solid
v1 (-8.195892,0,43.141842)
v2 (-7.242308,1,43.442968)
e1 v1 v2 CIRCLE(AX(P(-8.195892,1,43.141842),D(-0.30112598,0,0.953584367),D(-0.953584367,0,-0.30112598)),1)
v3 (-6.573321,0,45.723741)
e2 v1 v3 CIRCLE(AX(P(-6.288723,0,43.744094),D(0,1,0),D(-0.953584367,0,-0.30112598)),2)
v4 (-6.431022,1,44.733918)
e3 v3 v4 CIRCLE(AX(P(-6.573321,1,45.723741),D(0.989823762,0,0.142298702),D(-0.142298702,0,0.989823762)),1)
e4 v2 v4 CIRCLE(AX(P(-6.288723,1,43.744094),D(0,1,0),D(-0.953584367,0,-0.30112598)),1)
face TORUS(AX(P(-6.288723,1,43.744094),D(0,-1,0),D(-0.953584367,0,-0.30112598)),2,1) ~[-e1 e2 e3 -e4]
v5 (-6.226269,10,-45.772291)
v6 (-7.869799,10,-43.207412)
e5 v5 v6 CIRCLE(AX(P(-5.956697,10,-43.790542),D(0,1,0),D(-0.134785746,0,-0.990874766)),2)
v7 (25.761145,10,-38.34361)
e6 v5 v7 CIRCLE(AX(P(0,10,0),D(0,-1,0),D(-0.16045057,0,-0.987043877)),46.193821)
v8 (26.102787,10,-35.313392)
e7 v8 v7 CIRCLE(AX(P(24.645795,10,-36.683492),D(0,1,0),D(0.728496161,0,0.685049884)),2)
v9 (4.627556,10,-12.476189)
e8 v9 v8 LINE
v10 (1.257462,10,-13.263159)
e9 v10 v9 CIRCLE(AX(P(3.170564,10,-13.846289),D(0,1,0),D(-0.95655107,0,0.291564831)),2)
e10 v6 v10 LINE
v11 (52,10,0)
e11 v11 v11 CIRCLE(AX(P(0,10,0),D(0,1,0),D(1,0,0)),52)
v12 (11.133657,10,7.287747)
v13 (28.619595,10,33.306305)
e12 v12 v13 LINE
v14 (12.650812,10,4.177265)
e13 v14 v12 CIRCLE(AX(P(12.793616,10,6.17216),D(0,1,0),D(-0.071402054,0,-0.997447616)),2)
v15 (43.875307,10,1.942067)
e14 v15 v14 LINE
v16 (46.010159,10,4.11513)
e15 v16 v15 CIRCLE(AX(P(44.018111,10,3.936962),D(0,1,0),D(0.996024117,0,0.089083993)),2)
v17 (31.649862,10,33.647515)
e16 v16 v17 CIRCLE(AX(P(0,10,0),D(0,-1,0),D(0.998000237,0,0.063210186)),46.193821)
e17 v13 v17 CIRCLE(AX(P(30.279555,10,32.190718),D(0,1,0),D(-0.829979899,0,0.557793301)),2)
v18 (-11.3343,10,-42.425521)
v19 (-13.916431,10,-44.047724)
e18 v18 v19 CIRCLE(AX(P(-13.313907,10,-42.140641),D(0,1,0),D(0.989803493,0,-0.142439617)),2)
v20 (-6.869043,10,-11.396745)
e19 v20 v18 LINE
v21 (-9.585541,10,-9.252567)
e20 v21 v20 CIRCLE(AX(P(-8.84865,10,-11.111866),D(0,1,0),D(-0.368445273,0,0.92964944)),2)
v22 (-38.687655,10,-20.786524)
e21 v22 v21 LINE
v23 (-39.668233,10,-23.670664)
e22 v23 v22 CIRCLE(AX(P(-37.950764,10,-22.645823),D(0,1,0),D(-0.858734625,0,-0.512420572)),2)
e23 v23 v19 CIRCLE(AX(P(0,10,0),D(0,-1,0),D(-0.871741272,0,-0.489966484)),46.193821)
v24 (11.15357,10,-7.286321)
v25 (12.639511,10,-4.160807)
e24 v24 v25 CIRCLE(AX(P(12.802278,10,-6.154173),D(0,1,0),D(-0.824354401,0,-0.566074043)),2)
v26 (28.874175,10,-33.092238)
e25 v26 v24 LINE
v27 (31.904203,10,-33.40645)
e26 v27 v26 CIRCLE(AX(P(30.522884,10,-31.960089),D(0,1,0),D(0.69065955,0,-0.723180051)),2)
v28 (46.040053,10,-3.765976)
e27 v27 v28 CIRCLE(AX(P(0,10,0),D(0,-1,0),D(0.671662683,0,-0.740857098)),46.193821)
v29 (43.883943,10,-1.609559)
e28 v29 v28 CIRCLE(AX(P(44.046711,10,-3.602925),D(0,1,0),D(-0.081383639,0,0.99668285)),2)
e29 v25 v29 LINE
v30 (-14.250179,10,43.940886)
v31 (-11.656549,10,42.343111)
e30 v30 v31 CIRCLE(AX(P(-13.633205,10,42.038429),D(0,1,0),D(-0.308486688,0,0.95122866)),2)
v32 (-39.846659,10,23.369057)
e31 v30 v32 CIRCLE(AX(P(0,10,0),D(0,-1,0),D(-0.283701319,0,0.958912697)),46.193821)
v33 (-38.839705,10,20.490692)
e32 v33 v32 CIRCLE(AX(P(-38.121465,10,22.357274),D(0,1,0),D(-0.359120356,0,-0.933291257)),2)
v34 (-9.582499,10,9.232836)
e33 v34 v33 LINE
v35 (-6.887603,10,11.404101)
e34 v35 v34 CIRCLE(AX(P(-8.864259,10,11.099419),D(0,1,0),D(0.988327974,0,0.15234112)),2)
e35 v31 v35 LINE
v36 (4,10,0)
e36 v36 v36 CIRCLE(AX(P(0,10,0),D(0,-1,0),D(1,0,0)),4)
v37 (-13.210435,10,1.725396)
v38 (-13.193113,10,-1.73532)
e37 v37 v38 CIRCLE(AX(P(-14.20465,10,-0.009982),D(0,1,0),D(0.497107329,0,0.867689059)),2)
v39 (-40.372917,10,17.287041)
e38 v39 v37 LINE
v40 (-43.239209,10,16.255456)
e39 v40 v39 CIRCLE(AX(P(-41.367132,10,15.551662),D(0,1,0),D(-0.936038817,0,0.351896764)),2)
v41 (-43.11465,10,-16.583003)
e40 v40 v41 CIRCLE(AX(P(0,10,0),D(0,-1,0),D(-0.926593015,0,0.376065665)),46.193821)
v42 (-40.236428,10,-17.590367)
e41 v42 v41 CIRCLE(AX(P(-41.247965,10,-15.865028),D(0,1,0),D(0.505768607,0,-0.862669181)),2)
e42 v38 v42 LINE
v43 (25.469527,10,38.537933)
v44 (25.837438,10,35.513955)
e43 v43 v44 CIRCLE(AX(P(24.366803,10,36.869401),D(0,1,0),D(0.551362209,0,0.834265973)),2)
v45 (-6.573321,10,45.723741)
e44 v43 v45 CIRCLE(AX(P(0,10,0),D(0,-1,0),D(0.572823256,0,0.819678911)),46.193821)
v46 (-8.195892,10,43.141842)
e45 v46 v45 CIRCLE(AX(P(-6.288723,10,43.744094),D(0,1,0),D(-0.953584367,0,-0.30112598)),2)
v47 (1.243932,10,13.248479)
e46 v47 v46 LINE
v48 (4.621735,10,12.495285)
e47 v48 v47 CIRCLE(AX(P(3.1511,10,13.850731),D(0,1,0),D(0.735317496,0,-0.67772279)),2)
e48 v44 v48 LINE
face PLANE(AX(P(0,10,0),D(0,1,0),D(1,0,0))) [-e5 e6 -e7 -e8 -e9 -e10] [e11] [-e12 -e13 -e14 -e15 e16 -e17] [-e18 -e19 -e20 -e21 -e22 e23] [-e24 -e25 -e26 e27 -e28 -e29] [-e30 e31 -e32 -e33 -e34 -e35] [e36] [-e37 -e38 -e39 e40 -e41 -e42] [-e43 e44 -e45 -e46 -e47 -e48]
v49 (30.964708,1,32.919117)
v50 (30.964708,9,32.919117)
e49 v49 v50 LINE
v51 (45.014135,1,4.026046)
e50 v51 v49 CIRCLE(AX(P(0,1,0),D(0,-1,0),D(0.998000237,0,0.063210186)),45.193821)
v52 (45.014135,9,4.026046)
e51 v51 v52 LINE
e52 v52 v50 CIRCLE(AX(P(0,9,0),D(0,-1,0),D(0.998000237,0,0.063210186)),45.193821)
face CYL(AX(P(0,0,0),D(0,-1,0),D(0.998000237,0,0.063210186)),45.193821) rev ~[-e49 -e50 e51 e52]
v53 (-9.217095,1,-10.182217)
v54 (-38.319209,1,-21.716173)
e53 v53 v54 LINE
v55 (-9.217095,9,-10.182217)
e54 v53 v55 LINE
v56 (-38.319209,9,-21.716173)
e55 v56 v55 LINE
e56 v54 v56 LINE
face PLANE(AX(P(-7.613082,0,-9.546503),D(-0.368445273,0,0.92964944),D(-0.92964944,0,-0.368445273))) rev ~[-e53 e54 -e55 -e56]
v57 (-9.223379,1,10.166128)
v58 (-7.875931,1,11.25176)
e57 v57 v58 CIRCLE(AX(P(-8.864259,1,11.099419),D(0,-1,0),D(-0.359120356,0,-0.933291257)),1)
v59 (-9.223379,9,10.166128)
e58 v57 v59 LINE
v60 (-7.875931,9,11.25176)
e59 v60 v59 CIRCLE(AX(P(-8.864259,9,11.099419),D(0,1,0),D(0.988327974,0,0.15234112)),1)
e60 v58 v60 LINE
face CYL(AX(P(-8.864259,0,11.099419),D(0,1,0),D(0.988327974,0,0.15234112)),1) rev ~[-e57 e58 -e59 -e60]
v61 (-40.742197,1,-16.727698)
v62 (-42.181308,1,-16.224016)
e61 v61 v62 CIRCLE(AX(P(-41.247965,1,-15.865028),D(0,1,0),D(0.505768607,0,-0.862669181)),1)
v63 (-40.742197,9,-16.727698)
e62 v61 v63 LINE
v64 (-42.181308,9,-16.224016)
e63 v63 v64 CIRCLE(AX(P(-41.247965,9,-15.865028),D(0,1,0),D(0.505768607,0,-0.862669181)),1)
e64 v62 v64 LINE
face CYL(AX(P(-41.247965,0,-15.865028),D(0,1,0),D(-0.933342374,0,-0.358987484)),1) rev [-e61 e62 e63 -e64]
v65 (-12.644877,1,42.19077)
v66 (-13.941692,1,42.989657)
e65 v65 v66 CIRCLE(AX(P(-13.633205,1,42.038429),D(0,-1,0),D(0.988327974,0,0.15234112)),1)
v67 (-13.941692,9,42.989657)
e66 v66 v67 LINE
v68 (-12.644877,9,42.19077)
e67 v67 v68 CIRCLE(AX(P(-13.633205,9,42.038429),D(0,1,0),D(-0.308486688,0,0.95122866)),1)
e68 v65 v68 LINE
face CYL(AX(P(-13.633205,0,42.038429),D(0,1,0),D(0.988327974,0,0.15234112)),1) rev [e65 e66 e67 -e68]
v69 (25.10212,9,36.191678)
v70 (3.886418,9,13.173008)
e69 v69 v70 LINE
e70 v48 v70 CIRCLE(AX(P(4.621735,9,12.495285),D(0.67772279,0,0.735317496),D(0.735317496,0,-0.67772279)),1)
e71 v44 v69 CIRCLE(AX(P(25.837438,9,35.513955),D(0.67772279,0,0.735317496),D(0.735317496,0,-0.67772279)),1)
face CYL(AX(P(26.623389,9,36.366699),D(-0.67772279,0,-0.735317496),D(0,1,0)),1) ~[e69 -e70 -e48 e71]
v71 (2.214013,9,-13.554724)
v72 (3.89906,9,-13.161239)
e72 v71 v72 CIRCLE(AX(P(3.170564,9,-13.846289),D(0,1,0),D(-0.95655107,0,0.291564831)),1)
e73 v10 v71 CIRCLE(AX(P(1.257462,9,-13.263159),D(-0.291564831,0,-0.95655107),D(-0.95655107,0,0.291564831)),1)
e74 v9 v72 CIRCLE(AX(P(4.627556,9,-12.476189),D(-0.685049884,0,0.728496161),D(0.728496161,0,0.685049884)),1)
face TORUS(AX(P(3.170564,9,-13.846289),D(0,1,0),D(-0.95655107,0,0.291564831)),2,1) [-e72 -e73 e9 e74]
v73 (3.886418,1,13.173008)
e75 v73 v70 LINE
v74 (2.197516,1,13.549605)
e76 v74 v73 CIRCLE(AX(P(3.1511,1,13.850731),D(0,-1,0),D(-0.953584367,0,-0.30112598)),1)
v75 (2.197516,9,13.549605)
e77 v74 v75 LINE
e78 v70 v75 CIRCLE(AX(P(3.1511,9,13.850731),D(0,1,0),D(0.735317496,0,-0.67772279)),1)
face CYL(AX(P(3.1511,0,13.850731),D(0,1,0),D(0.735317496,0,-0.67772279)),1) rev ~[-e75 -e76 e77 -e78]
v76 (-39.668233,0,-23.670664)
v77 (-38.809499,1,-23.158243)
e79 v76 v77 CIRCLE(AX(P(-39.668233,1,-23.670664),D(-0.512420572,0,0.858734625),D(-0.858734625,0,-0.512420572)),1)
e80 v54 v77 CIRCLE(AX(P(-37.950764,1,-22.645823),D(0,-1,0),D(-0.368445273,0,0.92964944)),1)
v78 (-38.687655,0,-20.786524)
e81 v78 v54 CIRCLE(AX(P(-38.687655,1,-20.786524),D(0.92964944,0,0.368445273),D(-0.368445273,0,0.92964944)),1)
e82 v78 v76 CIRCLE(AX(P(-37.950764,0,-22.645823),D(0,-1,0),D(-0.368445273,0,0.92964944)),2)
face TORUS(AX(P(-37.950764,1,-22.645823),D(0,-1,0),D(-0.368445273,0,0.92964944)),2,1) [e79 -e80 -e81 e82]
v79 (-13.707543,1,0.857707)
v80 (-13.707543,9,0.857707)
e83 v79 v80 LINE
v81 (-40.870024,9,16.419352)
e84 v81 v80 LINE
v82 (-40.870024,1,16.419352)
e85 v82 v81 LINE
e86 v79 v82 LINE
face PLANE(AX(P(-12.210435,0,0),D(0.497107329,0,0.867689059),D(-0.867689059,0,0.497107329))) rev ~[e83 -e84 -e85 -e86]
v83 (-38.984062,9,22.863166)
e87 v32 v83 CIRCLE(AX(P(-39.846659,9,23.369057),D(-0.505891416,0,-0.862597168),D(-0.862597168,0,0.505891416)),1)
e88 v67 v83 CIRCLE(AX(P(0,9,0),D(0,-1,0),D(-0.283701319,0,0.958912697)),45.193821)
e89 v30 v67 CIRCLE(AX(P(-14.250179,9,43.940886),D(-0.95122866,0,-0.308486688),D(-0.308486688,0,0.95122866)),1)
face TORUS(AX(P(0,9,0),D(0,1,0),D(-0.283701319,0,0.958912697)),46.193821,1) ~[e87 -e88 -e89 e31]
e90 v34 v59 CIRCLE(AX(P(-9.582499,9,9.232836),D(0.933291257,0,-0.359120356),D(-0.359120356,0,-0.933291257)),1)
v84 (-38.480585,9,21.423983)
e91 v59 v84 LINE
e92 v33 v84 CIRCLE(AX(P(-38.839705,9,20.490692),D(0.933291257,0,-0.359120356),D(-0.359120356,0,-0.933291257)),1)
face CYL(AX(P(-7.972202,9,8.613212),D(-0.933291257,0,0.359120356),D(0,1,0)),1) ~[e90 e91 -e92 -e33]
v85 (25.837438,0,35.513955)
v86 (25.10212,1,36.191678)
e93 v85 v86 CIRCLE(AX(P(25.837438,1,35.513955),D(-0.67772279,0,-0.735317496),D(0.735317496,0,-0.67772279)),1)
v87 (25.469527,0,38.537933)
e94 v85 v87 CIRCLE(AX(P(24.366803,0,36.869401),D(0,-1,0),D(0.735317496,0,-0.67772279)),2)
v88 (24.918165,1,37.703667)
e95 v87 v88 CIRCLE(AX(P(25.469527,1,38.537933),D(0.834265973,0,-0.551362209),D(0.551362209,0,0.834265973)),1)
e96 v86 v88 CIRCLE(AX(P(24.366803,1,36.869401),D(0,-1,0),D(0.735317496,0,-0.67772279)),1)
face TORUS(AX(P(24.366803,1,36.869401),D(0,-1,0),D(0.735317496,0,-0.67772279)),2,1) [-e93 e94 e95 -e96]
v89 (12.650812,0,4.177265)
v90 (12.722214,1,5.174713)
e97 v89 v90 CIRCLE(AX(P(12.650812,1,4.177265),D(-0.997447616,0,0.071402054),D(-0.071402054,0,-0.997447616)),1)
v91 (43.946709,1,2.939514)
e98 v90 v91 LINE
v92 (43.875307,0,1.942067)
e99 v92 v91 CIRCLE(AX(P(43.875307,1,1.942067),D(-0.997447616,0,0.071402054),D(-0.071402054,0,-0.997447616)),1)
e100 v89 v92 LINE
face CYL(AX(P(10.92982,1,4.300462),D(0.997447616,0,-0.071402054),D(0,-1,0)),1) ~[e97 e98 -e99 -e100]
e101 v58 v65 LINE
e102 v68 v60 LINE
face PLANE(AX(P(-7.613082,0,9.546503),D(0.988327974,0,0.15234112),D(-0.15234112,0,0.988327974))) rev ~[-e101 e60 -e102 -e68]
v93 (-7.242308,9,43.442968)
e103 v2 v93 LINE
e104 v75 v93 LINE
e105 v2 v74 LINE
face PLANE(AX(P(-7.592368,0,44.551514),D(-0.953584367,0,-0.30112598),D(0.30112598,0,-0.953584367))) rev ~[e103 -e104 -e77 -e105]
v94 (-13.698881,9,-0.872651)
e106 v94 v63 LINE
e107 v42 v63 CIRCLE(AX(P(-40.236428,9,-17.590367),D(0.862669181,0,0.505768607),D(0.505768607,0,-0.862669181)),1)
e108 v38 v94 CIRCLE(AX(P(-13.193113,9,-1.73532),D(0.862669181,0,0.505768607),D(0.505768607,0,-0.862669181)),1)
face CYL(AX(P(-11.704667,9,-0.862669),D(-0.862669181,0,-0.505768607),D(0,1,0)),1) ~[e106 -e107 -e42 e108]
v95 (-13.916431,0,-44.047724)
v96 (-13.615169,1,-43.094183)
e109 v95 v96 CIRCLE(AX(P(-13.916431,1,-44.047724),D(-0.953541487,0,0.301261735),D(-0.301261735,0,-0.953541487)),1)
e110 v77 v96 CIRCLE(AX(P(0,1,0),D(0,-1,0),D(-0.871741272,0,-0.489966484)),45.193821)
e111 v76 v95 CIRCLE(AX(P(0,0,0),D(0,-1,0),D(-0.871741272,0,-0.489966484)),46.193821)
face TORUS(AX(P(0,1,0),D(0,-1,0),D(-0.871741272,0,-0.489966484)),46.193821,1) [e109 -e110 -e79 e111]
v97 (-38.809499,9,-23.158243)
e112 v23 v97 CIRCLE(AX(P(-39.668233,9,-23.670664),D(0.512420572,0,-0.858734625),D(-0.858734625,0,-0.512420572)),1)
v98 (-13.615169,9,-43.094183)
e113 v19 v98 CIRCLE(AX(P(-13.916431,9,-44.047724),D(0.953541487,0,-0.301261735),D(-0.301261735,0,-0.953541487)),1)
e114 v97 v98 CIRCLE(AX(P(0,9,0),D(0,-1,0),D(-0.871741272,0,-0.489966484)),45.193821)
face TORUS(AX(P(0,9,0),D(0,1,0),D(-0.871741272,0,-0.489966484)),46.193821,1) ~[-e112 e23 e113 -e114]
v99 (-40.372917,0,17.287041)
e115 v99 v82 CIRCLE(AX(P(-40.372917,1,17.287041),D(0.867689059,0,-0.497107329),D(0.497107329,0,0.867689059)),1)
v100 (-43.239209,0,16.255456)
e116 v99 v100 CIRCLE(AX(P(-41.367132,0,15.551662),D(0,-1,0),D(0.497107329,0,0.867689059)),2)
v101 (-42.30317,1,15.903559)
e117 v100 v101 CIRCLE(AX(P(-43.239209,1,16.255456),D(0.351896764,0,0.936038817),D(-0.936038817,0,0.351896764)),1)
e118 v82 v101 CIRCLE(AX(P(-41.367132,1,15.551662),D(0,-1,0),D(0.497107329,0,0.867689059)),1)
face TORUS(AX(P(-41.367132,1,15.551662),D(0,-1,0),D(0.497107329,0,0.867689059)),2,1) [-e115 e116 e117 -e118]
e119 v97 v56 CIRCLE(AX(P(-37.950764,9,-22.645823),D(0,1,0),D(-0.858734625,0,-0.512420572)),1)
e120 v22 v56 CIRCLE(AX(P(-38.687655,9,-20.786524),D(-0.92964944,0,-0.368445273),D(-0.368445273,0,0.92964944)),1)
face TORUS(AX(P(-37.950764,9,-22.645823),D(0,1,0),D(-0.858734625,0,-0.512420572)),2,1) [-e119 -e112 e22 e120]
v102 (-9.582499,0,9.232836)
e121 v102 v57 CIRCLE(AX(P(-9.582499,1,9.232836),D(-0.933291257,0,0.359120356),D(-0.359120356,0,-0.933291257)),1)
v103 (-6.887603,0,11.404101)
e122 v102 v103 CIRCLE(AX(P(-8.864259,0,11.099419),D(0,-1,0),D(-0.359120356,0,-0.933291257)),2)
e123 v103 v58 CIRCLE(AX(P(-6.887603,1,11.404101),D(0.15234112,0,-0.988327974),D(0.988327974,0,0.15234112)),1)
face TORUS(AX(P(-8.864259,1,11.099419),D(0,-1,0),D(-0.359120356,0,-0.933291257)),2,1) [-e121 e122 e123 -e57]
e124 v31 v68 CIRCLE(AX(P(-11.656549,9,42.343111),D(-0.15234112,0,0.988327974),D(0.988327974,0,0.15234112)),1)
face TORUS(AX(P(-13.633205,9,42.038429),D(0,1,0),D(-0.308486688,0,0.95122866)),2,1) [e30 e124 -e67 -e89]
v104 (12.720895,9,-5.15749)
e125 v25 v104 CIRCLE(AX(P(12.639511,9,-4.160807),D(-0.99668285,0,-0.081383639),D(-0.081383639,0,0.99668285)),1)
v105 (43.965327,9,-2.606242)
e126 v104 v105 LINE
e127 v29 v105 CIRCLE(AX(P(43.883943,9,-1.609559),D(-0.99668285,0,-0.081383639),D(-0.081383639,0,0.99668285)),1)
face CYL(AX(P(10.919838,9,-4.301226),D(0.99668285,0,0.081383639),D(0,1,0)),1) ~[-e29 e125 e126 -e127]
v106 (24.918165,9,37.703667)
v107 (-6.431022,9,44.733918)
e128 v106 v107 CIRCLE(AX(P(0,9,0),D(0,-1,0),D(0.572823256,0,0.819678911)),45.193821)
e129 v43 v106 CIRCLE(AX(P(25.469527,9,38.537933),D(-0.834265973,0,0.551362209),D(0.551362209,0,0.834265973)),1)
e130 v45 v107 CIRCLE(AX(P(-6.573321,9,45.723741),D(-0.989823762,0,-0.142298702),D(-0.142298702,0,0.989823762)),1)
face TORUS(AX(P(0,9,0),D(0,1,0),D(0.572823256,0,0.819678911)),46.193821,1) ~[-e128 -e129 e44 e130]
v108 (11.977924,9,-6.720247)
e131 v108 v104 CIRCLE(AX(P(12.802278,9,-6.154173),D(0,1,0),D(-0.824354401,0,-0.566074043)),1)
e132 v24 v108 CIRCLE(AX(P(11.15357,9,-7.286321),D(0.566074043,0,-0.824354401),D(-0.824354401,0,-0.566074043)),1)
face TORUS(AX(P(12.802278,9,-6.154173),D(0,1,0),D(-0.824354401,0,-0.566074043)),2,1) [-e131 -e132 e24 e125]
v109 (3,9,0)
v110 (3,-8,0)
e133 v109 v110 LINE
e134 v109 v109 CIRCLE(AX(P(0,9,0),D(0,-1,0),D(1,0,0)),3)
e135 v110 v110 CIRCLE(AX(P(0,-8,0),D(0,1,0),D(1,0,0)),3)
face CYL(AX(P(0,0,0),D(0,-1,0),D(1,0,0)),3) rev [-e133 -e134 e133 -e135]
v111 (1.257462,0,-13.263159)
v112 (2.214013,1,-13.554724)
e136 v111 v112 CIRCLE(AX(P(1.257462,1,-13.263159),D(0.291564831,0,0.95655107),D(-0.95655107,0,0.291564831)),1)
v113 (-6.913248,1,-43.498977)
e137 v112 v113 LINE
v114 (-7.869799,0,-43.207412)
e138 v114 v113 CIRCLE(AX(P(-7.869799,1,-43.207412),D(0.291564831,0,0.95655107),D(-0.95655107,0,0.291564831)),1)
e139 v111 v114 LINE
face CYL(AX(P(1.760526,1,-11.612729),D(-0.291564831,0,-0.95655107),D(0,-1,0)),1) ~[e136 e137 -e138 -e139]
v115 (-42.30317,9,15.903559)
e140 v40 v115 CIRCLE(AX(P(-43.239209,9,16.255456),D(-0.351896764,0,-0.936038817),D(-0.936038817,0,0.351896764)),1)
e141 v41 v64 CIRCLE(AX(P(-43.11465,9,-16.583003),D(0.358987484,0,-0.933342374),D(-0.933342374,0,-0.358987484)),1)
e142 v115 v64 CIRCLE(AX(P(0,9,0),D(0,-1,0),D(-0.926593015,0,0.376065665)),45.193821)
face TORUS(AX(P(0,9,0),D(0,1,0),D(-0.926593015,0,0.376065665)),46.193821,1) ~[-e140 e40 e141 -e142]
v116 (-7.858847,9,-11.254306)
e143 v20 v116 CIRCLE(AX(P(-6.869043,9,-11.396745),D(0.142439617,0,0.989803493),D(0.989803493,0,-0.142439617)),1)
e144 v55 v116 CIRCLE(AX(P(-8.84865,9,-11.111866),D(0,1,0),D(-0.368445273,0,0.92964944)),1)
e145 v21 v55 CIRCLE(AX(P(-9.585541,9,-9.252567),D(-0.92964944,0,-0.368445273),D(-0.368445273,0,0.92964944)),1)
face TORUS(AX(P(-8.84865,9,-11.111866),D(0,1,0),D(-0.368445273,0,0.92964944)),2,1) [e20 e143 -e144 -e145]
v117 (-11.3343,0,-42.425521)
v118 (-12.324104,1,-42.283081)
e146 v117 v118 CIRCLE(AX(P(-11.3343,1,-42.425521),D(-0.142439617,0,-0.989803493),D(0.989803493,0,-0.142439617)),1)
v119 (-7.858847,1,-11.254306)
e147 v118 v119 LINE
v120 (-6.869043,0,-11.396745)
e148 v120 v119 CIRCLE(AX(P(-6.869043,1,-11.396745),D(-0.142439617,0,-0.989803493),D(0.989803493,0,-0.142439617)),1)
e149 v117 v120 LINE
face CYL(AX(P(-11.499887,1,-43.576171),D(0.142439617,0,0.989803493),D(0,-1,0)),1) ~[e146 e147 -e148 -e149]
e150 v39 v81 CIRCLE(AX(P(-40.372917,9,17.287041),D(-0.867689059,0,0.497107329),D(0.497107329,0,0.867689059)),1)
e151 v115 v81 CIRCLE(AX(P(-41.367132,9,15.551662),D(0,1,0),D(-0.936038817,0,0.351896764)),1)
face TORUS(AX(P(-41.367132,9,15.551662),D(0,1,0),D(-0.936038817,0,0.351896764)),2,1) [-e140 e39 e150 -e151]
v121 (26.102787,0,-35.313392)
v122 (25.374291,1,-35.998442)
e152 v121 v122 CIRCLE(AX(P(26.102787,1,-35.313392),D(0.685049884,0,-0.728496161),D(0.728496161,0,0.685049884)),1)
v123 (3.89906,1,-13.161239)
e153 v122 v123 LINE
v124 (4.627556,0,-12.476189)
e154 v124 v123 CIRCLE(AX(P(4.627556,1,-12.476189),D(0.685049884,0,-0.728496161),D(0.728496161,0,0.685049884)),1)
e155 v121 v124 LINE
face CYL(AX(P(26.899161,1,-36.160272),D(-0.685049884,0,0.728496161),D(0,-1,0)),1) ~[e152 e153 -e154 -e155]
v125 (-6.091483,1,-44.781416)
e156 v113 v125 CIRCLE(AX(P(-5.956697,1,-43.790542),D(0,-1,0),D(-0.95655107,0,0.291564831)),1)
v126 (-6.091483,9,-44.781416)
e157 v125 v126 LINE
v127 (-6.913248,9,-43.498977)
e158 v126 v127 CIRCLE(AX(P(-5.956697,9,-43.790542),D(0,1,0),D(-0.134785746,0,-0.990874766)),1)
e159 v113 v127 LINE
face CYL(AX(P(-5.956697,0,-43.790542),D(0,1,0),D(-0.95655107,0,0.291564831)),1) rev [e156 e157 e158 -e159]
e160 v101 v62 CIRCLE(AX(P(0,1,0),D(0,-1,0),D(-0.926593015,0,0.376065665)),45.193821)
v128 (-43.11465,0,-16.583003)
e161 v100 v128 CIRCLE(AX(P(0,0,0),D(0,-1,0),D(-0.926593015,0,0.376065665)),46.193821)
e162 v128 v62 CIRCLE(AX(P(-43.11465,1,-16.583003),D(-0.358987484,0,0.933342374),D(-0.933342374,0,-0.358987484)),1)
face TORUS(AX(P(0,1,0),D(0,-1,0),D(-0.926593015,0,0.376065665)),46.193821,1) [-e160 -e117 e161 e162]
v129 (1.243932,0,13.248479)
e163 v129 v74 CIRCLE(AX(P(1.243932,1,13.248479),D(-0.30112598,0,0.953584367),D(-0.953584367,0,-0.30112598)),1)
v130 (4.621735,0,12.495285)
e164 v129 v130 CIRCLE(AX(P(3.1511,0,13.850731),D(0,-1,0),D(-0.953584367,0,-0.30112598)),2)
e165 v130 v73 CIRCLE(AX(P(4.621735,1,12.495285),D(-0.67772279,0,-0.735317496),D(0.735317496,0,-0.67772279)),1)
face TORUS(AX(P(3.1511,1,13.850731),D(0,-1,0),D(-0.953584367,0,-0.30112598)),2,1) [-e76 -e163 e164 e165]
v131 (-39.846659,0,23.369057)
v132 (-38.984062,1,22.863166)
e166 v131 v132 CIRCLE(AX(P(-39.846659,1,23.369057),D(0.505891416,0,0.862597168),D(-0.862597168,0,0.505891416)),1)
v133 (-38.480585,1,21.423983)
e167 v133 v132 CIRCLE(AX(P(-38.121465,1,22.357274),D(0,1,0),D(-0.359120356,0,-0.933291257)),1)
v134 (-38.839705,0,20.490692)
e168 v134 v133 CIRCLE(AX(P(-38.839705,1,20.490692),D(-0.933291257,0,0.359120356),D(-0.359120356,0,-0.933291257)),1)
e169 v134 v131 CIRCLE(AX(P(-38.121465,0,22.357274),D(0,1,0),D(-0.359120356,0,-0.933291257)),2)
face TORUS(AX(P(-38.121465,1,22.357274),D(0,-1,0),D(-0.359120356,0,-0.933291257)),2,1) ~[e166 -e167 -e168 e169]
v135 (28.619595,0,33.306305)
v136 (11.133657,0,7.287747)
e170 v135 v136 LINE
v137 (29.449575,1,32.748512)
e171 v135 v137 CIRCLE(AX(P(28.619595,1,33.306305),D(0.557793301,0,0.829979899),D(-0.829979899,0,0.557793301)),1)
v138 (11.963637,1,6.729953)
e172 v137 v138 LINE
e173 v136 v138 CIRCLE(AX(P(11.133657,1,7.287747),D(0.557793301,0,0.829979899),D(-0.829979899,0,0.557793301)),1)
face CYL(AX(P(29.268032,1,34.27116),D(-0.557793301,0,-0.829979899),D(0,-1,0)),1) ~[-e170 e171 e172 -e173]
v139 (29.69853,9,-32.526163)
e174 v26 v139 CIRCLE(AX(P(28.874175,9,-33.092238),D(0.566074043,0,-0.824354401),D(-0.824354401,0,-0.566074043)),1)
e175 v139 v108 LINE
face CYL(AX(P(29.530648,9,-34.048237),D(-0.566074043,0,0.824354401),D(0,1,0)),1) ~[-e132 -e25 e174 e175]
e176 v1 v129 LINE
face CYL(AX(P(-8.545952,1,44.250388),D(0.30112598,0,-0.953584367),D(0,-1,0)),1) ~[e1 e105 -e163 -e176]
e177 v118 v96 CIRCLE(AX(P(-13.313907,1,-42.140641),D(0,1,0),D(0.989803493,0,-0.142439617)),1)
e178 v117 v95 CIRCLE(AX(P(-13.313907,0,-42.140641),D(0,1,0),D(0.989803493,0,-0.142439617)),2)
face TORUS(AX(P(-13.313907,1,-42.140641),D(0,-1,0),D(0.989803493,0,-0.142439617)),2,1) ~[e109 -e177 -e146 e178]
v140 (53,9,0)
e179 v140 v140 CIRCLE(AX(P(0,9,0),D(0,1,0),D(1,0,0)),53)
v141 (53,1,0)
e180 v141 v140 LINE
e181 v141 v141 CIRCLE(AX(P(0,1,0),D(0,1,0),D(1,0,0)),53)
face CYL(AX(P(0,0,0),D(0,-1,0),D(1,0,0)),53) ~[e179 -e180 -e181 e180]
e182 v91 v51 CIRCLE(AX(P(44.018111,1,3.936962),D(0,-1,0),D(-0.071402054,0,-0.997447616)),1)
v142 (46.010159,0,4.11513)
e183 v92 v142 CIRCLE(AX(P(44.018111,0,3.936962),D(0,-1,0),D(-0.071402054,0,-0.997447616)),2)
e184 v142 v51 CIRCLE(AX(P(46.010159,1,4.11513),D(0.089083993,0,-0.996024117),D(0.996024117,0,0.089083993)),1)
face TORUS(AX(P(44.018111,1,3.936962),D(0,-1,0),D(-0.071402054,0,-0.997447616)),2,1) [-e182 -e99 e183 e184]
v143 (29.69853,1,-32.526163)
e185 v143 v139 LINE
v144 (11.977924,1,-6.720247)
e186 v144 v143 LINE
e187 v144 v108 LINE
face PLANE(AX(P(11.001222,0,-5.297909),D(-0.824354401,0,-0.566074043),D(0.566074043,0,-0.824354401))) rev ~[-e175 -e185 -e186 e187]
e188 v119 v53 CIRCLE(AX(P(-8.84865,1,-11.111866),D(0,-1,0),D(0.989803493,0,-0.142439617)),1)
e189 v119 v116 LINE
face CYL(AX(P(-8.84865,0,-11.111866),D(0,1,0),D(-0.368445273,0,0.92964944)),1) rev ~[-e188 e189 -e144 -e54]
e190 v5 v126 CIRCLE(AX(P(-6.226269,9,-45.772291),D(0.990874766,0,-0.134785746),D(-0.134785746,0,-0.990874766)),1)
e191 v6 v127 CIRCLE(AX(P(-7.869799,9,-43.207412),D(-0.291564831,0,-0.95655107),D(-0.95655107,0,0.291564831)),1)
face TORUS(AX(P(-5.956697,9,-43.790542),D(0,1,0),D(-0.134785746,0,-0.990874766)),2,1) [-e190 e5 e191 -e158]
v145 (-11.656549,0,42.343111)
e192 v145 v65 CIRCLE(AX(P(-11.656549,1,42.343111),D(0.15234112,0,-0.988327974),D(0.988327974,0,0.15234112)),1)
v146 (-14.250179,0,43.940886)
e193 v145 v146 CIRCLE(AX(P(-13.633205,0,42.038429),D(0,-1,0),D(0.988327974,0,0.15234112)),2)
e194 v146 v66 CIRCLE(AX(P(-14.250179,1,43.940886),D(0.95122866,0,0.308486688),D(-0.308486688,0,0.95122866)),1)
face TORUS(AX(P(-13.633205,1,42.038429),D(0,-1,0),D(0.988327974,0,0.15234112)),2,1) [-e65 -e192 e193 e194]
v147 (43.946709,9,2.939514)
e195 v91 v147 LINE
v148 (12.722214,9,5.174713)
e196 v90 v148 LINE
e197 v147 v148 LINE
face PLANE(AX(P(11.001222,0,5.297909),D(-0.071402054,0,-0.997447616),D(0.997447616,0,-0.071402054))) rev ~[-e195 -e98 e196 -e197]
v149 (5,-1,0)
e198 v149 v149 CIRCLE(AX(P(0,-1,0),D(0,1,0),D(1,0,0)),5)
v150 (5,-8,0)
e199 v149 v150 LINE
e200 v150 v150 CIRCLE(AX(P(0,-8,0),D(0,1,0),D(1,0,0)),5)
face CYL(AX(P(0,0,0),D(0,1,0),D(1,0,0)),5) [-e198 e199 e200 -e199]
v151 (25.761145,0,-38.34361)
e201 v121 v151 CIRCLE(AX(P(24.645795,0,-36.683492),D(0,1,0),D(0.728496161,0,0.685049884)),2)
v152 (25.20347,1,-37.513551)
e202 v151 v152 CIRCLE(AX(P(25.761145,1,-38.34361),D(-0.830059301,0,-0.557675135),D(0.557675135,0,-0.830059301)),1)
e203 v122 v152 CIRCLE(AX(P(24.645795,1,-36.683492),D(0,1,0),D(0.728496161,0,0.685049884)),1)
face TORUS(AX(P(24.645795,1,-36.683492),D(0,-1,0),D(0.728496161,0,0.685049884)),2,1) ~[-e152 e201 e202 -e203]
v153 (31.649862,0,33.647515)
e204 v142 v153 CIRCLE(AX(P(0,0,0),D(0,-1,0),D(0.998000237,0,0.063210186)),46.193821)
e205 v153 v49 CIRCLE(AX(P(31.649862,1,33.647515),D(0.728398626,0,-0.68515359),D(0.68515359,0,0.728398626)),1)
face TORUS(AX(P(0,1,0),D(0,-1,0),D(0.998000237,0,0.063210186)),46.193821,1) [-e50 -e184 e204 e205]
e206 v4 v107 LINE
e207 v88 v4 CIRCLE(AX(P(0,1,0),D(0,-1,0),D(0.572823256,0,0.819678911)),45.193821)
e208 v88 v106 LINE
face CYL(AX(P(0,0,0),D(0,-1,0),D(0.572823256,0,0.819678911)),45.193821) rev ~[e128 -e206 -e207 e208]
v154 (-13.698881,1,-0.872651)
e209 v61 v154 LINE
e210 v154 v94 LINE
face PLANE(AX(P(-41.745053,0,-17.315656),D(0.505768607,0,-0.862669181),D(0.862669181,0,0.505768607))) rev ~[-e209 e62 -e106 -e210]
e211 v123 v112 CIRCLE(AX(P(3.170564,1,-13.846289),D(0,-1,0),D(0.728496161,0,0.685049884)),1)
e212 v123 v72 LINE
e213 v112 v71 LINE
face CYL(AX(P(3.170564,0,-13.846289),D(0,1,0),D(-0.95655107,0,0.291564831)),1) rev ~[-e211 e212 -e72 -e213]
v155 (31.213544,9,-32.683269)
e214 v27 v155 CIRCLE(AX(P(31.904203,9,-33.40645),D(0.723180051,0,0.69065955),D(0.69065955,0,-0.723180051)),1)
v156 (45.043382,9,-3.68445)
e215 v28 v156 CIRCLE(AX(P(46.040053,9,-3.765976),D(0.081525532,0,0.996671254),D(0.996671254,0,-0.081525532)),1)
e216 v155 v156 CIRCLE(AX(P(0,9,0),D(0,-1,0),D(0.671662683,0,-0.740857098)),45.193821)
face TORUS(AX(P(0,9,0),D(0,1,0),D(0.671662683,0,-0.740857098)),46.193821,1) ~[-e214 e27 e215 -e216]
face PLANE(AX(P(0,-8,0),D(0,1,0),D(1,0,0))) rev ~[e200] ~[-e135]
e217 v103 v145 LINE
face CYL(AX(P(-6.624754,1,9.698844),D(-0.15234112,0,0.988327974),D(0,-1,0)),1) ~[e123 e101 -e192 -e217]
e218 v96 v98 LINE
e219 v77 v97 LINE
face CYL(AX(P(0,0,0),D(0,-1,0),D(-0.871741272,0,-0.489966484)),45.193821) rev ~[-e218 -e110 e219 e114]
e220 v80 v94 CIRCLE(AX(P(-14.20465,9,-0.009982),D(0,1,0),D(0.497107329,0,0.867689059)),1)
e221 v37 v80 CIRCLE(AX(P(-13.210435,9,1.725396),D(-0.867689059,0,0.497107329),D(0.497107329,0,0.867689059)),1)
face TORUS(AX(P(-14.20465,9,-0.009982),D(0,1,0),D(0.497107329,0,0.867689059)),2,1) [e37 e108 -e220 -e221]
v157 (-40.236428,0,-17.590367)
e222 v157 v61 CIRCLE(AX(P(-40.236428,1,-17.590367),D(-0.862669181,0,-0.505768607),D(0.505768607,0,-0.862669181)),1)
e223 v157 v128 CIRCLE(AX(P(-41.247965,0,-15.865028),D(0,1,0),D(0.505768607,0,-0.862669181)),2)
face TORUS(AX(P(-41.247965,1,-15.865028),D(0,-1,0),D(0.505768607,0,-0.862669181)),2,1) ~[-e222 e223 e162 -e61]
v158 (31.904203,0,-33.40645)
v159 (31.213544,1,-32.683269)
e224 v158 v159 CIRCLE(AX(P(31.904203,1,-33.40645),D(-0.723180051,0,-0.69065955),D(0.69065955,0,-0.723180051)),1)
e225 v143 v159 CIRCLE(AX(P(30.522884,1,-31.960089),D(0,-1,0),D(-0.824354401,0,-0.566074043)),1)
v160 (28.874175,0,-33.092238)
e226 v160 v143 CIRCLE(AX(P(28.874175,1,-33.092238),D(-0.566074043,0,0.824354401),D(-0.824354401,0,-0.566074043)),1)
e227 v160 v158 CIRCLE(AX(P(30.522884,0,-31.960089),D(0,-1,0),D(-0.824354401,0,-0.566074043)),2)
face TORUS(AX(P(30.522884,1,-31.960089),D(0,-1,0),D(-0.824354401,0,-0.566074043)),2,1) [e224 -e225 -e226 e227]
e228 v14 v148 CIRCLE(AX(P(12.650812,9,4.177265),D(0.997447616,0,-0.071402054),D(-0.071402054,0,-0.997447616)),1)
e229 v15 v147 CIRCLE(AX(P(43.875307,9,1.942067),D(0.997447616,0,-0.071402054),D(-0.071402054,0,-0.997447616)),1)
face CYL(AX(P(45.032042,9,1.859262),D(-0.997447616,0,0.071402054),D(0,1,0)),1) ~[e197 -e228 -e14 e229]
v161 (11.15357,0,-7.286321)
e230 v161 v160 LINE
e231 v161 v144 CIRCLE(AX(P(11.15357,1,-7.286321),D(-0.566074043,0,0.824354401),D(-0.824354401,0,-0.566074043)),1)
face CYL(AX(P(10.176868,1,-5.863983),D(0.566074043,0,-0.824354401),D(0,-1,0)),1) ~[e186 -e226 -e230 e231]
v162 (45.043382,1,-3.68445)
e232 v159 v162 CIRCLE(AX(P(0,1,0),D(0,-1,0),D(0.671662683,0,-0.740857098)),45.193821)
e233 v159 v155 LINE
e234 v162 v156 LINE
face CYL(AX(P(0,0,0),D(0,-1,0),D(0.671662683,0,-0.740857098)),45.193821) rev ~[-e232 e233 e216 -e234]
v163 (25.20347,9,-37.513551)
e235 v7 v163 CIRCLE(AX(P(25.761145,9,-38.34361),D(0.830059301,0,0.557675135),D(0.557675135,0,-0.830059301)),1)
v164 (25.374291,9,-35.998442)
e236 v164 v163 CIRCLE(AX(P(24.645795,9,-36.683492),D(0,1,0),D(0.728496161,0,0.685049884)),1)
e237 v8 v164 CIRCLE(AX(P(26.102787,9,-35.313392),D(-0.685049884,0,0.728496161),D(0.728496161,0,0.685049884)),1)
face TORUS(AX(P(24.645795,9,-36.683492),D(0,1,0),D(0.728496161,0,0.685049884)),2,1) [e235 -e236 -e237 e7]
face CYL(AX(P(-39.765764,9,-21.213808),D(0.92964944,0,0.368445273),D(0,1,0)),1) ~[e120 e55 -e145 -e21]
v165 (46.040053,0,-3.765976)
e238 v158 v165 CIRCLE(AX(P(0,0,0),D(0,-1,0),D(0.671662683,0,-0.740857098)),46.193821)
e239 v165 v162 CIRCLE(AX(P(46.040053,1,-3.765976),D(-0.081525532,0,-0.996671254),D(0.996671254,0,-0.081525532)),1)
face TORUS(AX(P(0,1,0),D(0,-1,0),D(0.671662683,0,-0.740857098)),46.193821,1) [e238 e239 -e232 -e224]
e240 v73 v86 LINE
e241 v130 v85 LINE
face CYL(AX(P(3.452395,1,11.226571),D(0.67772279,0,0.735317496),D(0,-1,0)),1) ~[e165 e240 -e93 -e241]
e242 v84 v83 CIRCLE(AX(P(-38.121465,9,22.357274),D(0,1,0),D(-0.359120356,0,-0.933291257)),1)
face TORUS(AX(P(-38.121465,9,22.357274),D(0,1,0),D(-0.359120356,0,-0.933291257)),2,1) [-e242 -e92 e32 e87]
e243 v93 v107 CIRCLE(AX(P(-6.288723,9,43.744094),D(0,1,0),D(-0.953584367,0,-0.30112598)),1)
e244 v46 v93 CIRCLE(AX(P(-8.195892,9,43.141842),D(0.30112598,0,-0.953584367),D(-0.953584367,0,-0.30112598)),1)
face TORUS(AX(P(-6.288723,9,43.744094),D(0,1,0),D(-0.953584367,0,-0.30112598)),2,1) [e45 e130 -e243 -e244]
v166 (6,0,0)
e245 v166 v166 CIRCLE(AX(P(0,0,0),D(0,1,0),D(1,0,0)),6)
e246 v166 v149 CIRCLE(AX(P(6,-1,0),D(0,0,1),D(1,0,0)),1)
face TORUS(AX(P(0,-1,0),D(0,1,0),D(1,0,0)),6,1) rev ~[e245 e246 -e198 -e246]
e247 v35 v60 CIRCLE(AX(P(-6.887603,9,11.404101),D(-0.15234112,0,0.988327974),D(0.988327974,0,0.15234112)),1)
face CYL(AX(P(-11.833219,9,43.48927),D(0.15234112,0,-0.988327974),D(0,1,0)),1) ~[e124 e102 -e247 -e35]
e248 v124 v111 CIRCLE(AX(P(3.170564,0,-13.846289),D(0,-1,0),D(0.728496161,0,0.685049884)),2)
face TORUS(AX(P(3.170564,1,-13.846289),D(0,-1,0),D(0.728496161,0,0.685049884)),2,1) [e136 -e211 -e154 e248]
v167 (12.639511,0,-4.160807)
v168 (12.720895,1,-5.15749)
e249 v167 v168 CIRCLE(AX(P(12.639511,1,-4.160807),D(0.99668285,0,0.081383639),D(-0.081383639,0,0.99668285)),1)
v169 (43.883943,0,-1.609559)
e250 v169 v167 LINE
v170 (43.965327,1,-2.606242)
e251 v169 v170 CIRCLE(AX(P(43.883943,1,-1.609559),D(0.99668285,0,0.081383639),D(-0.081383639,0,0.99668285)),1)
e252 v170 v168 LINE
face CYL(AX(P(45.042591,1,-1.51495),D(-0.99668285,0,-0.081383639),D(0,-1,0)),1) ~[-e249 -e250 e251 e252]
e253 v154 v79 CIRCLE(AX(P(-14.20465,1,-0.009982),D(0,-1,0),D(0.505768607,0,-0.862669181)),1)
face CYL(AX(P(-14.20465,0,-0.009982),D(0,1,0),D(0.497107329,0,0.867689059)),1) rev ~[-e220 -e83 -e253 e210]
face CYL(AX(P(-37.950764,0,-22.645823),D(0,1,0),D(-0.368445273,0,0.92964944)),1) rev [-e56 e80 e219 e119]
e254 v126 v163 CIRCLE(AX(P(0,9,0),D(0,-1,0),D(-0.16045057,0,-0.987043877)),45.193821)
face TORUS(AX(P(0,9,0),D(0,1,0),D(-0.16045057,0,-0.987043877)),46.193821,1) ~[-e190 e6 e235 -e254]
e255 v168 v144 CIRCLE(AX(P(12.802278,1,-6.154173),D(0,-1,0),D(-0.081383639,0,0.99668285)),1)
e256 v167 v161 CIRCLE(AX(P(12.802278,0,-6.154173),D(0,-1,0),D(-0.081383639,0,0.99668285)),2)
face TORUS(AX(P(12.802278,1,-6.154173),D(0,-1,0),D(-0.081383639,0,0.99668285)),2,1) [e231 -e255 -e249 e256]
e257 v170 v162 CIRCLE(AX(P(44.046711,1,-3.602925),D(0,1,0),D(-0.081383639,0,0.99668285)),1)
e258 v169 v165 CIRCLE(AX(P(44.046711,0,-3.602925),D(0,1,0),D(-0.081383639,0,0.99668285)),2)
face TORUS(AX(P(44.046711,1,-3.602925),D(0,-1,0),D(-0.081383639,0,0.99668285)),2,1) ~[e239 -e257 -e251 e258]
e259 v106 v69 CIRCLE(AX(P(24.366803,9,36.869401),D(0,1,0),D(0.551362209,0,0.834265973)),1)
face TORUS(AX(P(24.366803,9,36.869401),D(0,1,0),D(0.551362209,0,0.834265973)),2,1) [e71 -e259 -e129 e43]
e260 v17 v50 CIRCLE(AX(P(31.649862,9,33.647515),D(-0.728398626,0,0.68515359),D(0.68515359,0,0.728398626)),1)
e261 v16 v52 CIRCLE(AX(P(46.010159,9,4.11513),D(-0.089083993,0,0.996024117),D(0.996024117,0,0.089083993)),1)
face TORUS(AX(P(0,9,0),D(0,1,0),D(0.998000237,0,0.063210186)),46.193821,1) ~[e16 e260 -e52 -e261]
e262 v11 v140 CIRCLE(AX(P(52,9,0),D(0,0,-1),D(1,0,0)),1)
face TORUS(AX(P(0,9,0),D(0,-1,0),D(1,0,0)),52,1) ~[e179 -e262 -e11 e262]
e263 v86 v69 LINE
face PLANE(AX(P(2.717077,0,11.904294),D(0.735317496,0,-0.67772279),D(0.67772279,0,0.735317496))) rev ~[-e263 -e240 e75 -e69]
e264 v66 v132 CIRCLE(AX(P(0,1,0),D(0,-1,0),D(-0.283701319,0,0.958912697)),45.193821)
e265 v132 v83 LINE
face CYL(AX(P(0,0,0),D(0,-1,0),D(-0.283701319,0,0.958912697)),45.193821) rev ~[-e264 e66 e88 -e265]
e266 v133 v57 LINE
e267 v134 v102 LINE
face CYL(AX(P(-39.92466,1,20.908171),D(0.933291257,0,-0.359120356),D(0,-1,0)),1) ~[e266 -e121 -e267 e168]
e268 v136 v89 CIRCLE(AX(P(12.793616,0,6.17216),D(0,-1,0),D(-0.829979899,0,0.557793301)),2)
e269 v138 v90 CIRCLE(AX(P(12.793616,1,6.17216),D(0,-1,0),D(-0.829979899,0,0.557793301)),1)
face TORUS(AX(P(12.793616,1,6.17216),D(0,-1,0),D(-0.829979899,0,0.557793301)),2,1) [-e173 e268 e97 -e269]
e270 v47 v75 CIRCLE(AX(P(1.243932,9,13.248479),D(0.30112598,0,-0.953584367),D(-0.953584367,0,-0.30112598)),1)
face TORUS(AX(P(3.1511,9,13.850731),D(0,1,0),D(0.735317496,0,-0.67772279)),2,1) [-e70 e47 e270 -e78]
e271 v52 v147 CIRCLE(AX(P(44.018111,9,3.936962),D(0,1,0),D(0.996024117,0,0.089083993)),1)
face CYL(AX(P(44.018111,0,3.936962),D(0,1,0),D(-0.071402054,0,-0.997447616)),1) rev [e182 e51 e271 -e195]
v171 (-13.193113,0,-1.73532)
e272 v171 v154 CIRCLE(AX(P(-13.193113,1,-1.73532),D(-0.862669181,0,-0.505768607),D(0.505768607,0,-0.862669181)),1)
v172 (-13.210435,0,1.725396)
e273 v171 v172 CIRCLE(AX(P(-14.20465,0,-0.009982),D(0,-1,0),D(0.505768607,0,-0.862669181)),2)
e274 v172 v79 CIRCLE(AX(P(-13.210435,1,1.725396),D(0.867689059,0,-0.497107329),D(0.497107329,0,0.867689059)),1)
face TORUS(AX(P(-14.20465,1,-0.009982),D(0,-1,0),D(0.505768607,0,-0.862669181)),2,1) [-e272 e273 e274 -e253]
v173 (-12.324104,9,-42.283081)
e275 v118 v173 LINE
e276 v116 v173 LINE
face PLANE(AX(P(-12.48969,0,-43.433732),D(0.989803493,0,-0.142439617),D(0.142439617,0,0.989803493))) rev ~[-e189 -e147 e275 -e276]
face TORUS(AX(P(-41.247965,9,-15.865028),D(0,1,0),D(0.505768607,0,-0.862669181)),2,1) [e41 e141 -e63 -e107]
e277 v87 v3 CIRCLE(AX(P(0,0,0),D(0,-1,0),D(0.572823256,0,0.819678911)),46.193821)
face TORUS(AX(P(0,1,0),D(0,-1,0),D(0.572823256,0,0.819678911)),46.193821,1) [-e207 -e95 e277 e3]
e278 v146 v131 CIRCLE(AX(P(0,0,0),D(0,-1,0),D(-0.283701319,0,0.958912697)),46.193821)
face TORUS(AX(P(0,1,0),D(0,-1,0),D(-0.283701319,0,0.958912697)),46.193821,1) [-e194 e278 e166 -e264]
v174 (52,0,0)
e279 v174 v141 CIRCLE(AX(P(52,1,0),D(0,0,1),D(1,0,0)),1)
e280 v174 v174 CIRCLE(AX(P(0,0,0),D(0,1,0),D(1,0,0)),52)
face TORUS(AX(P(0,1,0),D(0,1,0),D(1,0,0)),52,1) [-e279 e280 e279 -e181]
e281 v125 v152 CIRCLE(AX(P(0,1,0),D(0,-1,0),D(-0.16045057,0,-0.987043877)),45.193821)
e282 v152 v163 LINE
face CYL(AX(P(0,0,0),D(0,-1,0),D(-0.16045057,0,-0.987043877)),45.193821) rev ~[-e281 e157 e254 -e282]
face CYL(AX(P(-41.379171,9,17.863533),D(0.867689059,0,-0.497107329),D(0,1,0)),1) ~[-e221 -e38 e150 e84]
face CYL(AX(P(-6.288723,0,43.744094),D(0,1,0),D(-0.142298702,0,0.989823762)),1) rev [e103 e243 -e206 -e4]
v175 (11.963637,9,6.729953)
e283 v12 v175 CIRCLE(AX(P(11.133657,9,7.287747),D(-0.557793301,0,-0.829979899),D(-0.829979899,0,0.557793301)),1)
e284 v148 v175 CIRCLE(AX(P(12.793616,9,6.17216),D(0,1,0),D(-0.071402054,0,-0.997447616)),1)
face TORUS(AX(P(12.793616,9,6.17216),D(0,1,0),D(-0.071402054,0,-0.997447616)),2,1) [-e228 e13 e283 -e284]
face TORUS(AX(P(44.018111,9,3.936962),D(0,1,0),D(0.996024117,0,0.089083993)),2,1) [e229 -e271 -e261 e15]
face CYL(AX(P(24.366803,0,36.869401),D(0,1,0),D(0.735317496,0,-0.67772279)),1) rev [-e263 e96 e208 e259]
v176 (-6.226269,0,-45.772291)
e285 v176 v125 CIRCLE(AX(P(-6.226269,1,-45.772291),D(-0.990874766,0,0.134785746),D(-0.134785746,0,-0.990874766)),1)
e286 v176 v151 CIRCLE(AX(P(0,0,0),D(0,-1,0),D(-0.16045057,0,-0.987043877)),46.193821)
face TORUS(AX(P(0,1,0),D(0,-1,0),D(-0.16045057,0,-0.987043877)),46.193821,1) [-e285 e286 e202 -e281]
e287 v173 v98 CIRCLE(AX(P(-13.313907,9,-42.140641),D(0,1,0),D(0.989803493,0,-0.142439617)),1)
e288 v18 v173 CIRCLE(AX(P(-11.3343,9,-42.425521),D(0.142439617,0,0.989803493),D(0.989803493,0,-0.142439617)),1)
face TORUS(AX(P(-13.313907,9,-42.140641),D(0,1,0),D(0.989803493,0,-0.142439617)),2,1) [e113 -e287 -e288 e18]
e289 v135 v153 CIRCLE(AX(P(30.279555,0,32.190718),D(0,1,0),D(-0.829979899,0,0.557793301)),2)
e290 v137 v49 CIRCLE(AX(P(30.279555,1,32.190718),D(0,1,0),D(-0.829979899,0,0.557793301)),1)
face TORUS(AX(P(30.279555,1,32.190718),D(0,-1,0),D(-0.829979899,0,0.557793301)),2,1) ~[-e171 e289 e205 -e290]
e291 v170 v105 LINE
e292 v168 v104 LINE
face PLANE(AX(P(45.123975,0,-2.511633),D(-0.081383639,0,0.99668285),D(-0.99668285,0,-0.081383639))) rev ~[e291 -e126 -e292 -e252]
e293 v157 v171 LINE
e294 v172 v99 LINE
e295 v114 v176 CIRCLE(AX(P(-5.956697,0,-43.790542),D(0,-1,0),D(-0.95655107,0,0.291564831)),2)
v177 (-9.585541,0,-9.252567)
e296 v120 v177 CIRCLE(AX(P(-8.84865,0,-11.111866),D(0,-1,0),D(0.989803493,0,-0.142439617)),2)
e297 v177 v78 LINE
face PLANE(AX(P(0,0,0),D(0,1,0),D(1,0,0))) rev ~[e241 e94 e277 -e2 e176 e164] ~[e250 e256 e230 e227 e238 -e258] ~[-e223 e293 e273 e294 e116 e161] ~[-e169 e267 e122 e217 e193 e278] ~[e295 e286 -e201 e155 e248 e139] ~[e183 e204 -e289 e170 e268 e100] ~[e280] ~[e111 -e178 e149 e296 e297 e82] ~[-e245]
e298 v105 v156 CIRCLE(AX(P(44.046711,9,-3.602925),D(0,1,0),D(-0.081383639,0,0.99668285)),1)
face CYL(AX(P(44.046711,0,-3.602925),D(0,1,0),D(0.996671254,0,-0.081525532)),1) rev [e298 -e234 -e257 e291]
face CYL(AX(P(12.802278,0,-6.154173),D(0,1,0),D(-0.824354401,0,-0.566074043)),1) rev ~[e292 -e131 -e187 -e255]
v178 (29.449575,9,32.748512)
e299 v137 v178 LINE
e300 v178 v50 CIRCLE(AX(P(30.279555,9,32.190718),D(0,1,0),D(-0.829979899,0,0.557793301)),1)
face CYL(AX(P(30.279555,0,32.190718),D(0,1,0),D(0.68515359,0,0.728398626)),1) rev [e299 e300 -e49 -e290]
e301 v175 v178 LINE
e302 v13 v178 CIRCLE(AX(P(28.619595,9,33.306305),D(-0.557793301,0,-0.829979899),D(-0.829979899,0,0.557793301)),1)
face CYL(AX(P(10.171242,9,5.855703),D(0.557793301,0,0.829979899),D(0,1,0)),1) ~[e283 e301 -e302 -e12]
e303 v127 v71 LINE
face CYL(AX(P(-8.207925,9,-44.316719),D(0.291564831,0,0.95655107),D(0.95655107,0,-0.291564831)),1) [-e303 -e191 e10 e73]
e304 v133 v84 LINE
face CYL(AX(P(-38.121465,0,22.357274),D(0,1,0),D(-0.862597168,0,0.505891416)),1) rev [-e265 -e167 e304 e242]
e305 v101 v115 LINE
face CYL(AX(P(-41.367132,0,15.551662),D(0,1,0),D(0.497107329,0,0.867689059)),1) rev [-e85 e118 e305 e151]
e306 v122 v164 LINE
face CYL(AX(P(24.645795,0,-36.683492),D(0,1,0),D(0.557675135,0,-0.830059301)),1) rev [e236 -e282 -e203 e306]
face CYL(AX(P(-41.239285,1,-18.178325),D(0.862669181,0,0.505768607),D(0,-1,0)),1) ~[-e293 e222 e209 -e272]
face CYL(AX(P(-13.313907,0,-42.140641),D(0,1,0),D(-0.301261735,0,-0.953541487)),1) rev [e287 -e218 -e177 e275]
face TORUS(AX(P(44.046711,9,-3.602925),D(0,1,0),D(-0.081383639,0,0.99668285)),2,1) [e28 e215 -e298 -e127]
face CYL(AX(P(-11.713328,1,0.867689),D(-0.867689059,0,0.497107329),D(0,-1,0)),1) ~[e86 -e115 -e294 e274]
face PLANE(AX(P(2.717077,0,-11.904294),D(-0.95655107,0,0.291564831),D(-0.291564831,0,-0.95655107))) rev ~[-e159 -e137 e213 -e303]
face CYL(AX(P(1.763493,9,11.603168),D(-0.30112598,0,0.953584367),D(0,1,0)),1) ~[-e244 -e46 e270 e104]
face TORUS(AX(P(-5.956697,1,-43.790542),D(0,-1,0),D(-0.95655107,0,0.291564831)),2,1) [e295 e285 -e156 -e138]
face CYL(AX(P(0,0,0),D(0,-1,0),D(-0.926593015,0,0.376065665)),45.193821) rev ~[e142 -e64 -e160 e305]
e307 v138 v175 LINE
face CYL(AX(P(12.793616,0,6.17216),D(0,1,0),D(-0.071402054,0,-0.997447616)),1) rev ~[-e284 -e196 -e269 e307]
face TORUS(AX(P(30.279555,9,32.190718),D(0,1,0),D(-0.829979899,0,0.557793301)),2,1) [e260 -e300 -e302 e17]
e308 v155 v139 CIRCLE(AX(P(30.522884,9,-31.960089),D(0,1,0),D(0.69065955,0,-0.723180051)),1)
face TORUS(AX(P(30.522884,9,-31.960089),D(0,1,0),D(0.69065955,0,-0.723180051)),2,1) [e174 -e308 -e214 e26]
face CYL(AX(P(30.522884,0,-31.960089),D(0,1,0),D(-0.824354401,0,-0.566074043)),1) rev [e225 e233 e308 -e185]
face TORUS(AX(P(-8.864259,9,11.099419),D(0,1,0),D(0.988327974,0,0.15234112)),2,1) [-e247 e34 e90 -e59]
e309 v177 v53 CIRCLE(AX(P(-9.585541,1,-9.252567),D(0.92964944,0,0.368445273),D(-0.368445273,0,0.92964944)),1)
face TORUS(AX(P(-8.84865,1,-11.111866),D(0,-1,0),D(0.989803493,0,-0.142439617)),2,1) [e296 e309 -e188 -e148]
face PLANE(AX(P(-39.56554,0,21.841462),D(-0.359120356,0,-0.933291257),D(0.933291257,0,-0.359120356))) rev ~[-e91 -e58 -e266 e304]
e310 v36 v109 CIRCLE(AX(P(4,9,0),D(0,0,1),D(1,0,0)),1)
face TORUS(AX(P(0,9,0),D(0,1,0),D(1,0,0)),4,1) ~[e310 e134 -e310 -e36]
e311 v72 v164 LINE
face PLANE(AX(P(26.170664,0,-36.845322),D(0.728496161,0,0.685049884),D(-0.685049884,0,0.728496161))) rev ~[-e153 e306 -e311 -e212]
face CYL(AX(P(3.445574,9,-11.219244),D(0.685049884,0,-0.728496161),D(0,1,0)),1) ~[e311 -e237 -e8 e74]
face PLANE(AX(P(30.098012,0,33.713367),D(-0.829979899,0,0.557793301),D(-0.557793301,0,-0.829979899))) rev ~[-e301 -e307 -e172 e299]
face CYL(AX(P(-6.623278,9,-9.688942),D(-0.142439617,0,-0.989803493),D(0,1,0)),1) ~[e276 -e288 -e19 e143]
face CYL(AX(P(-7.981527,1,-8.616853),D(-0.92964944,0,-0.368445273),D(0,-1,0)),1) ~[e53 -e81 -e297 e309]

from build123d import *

# Parameters (mm, degrees)
SKETCH1_R               = 53
SKETCH1_R_2             = 52
BOSS_EXTRUDE1_DEPTH     = 10
SKETCH1_3_R             = 52
SKETCH1_3_R_2           = 5
SKETCH1_3_R_3           = 3
BOSS_EXTRUDE2_DEPTH     = 10
SKETCH1_4_R             = 5
SKETCH1_4_R_2           = 3
BOSS_EXTRUDE3_DEPTH     = 8
CUT_EXTRUDE1_DEPTH      = 11
CIRPATTERN1_COUNT       = 7
SKETCH1_5_R             = 3
CUT_EXTRUDE2_DEPTH      = 11
CUT_EXTRUDE2_DEPTH_BACK = 9
FILLET2_R               = 1


with BuildPart() as part:
    # Sketch1 → Boss-Extrude1 (new body)
    with BuildSketch(Plane(origin=(0, 0, 0), x_dir=(1, 0, 0), z_dir=(0, 1, 0))):
        Circle(SKETCH1_R)
        Circle(SKETCH1_R_2, mode=Mode.SUBTRACT)
    extrude(amount=BOSS_EXTRUDE1_DEPTH)

    # Sketch1<3> → Boss-Extrude2 (add)
    with BuildSketch(Plane(origin=(0, 0, 0), x_dir=(1, 0, 0), z_dir=(0, 1, 0))):
        Circle(SKETCH1_3_R)
        Circle(SKETCH1_3_R_2, mode=Mode.SUBTRACT)
        Circle(SKETCH1_3_R_2)
        Circle(SKETCH1_3_R_3, mode=Mode.SUBTRACT)
        Circle(SKETCH1_3_R_3)
    extrude(amount=BOSS_EXTRUDE2_DEPTH)

    # Sketch1<4> → Boss-Extrude3 (add)
    with BuildSketch(Plane(origin=(0, 0, 0), x_dir=(1, 0, 0), z_dir=(0, 1, 0))):
        Circle(SKETCH1_4_R)
        Circle(SKETCH1_4_R_2, mode=Mode.SUBTRACT)
    extrude(amount=-BOSS_EXTRUDE3_DEPTH)

    # Sketch4 → Cut-Extrude1 (cut, through all)
    with BuildSketch(Plane.XZ):
        with BuildLine():
            Line((-12.210435355, 0), (-41.876278498, 16.995844181))
            ThreePointArc((-41.876278498, 16.995844181), (-45.193490077, -0.172843505), (-41.745053406, -17.315655818))
            Line((-41.745053406, -17.315655818), (-12.210435355, 0))
        make_face()
    cut_extrude1 = extrude(amount=-CUT_EXTRUDE1_DEPTH, mode=Mode.SUBTRACT)

    # CirPattern1: Cut-Extrude1 ×7 about axis
    cirpattern1_axis = Axis((0, 0, 0), (0, 1, 0))
    for i in range(1, CIRPATTERN1_COUNT):
        add(cut_extrude1.rotate(cirpattern1_axis, i * 360 / CIRPATTERN1_COUNT), mode=Mode.SUBTRACT)

    # Sketch1<5> → Cut-Extrude2 (cut, two sides)
    with BuildSketch(Plane(origin=(0, 0, 0), x_dir=(1, 0, 0), z_dir=(0, 1, 0))) as cut_extrude2_sk:
        Circle(SKETCH1_5_R)
    extrude(amount=CUT_EXTRUDE2_DEPTH, mode=Mode.SUBTRACT)
    extrude(cut_extrude2_sk.sketch, amount=-CUT_EXTRUDE2_DEPTH_BACK, mode=Mode.SUBTRACT)

    # Fillet2
    fillet2_edges = [part.edges().sort_by_distance(p)[0] for p in [
        (-3, 10, 0),
        (-5, 0, 0),
        (-53, 0, 0),
        (-26.97774438, 10, -8.657827909),
        (-12.210435355, 5, 0),
        (-45.193490077, 10, -0.172843505),
        (-41.745053406, 5, -17.315655818),
        (-27.043356926, 10, 8.49792209),
        (-41.876278498, 5, 16.995844181),
        (-26.97774438, 0, -8.657827909),
        (-27.043356926, 0, 8.49792209),
        (-45.193490077, 0, -0.172843505),
        (-53, 10, 0),
        (-10.051386069, 10, -26.49011729),
        (-7.61308192, 5, -9.546502775),
        (-28.04254568, 10, -35.441459508),
        (-12.489690218, 5, -43.433731805),
        (-23.505200277, 10, -15.844980076),
        (-39.397318635, 5, -22.143457378),
        (-10.051386069, 0, -26.49011729),
        (-23.505200277, 0, -15.844980076),
        (-28.04254568, 0, -35.441459508),
        (28.062598559, 10, -3.904771195),
        (11.001222118, 5, -5.297909348),
        (40.792921578, 10, -19.452993842),
        (45.123974999, 5, -2.511633042),
        (20.678112463, 10, -19.390036067),
        (30.355002808, 5, -33.482162785),
        (28.062598559, 0, -3.904771195),
        (20.678112463, 0, -19.390036067),
        (40.792921578, 0, -19.452993842),
        (14.443870963, 10, -24.374808052),
        (2.717077479, 5, -11.904294247),
        (10.225007578, 10, -44.021933627),
        (26.170664447, 5, -36.845321856),
        (-2.267148401, 10, -28.256289067),
        (-7.251374281, 5, -44.608283886),
        (14.443870963, 0, -24.374808052),
        (-2.267148401, 0, -28.256289067),
        (10.225007578, 0, -44.021933627),
        (-2.437645212, 10, 28.227903956),
        (2.717077479, 5, 11.904294247),
        (9.887987664, 10, 44.098856223),
        (-7.592367903, 5, 44.551513665),
        (14.302574482, 10, 24.474357946),
        (25.888071485, 5, 37.044421646),
        (-2.437645212, 0, 28.227903956),
        (14.302574482, 0, 24.474357946),
        (9.887987664, 0, 44.098856223),
        (20.549617067, 10, 19.505638014),
        (11.001222118, 5, 5.297909348),
        (40.642933605, 10, 19.764447075),
        (30.098012016, 5, 33.713366681),
        (28.052332885, 10, 4.077309576),
        (45.103443653, 5, 2.856709805),
        (20.549617067, 0, 19.505638014),
        (28.052332885, 0, 4.077309576),
        (40.642933605, 0, 19.764447075),
        (-23.589310927, 10, 15.693982475),
        (-7.61308192, 5, 9.546502775),
        (-28.312814667, 10, 35.225927183),
        (-39.565539935, 5, 21.841462175),
        (-10.217314226, 10, 26.441715597),
        (-12.821546532, 5, 43.336928419),
        (-23.589310927, 0, 15.693982475),
        (-10.217314226, 0, 26.441715597),
        (-28.312814667, 0, 35.225927183),
    ]]
    fillet(fillet2_edges, radius=FILLET2_R)


solid = part.part
